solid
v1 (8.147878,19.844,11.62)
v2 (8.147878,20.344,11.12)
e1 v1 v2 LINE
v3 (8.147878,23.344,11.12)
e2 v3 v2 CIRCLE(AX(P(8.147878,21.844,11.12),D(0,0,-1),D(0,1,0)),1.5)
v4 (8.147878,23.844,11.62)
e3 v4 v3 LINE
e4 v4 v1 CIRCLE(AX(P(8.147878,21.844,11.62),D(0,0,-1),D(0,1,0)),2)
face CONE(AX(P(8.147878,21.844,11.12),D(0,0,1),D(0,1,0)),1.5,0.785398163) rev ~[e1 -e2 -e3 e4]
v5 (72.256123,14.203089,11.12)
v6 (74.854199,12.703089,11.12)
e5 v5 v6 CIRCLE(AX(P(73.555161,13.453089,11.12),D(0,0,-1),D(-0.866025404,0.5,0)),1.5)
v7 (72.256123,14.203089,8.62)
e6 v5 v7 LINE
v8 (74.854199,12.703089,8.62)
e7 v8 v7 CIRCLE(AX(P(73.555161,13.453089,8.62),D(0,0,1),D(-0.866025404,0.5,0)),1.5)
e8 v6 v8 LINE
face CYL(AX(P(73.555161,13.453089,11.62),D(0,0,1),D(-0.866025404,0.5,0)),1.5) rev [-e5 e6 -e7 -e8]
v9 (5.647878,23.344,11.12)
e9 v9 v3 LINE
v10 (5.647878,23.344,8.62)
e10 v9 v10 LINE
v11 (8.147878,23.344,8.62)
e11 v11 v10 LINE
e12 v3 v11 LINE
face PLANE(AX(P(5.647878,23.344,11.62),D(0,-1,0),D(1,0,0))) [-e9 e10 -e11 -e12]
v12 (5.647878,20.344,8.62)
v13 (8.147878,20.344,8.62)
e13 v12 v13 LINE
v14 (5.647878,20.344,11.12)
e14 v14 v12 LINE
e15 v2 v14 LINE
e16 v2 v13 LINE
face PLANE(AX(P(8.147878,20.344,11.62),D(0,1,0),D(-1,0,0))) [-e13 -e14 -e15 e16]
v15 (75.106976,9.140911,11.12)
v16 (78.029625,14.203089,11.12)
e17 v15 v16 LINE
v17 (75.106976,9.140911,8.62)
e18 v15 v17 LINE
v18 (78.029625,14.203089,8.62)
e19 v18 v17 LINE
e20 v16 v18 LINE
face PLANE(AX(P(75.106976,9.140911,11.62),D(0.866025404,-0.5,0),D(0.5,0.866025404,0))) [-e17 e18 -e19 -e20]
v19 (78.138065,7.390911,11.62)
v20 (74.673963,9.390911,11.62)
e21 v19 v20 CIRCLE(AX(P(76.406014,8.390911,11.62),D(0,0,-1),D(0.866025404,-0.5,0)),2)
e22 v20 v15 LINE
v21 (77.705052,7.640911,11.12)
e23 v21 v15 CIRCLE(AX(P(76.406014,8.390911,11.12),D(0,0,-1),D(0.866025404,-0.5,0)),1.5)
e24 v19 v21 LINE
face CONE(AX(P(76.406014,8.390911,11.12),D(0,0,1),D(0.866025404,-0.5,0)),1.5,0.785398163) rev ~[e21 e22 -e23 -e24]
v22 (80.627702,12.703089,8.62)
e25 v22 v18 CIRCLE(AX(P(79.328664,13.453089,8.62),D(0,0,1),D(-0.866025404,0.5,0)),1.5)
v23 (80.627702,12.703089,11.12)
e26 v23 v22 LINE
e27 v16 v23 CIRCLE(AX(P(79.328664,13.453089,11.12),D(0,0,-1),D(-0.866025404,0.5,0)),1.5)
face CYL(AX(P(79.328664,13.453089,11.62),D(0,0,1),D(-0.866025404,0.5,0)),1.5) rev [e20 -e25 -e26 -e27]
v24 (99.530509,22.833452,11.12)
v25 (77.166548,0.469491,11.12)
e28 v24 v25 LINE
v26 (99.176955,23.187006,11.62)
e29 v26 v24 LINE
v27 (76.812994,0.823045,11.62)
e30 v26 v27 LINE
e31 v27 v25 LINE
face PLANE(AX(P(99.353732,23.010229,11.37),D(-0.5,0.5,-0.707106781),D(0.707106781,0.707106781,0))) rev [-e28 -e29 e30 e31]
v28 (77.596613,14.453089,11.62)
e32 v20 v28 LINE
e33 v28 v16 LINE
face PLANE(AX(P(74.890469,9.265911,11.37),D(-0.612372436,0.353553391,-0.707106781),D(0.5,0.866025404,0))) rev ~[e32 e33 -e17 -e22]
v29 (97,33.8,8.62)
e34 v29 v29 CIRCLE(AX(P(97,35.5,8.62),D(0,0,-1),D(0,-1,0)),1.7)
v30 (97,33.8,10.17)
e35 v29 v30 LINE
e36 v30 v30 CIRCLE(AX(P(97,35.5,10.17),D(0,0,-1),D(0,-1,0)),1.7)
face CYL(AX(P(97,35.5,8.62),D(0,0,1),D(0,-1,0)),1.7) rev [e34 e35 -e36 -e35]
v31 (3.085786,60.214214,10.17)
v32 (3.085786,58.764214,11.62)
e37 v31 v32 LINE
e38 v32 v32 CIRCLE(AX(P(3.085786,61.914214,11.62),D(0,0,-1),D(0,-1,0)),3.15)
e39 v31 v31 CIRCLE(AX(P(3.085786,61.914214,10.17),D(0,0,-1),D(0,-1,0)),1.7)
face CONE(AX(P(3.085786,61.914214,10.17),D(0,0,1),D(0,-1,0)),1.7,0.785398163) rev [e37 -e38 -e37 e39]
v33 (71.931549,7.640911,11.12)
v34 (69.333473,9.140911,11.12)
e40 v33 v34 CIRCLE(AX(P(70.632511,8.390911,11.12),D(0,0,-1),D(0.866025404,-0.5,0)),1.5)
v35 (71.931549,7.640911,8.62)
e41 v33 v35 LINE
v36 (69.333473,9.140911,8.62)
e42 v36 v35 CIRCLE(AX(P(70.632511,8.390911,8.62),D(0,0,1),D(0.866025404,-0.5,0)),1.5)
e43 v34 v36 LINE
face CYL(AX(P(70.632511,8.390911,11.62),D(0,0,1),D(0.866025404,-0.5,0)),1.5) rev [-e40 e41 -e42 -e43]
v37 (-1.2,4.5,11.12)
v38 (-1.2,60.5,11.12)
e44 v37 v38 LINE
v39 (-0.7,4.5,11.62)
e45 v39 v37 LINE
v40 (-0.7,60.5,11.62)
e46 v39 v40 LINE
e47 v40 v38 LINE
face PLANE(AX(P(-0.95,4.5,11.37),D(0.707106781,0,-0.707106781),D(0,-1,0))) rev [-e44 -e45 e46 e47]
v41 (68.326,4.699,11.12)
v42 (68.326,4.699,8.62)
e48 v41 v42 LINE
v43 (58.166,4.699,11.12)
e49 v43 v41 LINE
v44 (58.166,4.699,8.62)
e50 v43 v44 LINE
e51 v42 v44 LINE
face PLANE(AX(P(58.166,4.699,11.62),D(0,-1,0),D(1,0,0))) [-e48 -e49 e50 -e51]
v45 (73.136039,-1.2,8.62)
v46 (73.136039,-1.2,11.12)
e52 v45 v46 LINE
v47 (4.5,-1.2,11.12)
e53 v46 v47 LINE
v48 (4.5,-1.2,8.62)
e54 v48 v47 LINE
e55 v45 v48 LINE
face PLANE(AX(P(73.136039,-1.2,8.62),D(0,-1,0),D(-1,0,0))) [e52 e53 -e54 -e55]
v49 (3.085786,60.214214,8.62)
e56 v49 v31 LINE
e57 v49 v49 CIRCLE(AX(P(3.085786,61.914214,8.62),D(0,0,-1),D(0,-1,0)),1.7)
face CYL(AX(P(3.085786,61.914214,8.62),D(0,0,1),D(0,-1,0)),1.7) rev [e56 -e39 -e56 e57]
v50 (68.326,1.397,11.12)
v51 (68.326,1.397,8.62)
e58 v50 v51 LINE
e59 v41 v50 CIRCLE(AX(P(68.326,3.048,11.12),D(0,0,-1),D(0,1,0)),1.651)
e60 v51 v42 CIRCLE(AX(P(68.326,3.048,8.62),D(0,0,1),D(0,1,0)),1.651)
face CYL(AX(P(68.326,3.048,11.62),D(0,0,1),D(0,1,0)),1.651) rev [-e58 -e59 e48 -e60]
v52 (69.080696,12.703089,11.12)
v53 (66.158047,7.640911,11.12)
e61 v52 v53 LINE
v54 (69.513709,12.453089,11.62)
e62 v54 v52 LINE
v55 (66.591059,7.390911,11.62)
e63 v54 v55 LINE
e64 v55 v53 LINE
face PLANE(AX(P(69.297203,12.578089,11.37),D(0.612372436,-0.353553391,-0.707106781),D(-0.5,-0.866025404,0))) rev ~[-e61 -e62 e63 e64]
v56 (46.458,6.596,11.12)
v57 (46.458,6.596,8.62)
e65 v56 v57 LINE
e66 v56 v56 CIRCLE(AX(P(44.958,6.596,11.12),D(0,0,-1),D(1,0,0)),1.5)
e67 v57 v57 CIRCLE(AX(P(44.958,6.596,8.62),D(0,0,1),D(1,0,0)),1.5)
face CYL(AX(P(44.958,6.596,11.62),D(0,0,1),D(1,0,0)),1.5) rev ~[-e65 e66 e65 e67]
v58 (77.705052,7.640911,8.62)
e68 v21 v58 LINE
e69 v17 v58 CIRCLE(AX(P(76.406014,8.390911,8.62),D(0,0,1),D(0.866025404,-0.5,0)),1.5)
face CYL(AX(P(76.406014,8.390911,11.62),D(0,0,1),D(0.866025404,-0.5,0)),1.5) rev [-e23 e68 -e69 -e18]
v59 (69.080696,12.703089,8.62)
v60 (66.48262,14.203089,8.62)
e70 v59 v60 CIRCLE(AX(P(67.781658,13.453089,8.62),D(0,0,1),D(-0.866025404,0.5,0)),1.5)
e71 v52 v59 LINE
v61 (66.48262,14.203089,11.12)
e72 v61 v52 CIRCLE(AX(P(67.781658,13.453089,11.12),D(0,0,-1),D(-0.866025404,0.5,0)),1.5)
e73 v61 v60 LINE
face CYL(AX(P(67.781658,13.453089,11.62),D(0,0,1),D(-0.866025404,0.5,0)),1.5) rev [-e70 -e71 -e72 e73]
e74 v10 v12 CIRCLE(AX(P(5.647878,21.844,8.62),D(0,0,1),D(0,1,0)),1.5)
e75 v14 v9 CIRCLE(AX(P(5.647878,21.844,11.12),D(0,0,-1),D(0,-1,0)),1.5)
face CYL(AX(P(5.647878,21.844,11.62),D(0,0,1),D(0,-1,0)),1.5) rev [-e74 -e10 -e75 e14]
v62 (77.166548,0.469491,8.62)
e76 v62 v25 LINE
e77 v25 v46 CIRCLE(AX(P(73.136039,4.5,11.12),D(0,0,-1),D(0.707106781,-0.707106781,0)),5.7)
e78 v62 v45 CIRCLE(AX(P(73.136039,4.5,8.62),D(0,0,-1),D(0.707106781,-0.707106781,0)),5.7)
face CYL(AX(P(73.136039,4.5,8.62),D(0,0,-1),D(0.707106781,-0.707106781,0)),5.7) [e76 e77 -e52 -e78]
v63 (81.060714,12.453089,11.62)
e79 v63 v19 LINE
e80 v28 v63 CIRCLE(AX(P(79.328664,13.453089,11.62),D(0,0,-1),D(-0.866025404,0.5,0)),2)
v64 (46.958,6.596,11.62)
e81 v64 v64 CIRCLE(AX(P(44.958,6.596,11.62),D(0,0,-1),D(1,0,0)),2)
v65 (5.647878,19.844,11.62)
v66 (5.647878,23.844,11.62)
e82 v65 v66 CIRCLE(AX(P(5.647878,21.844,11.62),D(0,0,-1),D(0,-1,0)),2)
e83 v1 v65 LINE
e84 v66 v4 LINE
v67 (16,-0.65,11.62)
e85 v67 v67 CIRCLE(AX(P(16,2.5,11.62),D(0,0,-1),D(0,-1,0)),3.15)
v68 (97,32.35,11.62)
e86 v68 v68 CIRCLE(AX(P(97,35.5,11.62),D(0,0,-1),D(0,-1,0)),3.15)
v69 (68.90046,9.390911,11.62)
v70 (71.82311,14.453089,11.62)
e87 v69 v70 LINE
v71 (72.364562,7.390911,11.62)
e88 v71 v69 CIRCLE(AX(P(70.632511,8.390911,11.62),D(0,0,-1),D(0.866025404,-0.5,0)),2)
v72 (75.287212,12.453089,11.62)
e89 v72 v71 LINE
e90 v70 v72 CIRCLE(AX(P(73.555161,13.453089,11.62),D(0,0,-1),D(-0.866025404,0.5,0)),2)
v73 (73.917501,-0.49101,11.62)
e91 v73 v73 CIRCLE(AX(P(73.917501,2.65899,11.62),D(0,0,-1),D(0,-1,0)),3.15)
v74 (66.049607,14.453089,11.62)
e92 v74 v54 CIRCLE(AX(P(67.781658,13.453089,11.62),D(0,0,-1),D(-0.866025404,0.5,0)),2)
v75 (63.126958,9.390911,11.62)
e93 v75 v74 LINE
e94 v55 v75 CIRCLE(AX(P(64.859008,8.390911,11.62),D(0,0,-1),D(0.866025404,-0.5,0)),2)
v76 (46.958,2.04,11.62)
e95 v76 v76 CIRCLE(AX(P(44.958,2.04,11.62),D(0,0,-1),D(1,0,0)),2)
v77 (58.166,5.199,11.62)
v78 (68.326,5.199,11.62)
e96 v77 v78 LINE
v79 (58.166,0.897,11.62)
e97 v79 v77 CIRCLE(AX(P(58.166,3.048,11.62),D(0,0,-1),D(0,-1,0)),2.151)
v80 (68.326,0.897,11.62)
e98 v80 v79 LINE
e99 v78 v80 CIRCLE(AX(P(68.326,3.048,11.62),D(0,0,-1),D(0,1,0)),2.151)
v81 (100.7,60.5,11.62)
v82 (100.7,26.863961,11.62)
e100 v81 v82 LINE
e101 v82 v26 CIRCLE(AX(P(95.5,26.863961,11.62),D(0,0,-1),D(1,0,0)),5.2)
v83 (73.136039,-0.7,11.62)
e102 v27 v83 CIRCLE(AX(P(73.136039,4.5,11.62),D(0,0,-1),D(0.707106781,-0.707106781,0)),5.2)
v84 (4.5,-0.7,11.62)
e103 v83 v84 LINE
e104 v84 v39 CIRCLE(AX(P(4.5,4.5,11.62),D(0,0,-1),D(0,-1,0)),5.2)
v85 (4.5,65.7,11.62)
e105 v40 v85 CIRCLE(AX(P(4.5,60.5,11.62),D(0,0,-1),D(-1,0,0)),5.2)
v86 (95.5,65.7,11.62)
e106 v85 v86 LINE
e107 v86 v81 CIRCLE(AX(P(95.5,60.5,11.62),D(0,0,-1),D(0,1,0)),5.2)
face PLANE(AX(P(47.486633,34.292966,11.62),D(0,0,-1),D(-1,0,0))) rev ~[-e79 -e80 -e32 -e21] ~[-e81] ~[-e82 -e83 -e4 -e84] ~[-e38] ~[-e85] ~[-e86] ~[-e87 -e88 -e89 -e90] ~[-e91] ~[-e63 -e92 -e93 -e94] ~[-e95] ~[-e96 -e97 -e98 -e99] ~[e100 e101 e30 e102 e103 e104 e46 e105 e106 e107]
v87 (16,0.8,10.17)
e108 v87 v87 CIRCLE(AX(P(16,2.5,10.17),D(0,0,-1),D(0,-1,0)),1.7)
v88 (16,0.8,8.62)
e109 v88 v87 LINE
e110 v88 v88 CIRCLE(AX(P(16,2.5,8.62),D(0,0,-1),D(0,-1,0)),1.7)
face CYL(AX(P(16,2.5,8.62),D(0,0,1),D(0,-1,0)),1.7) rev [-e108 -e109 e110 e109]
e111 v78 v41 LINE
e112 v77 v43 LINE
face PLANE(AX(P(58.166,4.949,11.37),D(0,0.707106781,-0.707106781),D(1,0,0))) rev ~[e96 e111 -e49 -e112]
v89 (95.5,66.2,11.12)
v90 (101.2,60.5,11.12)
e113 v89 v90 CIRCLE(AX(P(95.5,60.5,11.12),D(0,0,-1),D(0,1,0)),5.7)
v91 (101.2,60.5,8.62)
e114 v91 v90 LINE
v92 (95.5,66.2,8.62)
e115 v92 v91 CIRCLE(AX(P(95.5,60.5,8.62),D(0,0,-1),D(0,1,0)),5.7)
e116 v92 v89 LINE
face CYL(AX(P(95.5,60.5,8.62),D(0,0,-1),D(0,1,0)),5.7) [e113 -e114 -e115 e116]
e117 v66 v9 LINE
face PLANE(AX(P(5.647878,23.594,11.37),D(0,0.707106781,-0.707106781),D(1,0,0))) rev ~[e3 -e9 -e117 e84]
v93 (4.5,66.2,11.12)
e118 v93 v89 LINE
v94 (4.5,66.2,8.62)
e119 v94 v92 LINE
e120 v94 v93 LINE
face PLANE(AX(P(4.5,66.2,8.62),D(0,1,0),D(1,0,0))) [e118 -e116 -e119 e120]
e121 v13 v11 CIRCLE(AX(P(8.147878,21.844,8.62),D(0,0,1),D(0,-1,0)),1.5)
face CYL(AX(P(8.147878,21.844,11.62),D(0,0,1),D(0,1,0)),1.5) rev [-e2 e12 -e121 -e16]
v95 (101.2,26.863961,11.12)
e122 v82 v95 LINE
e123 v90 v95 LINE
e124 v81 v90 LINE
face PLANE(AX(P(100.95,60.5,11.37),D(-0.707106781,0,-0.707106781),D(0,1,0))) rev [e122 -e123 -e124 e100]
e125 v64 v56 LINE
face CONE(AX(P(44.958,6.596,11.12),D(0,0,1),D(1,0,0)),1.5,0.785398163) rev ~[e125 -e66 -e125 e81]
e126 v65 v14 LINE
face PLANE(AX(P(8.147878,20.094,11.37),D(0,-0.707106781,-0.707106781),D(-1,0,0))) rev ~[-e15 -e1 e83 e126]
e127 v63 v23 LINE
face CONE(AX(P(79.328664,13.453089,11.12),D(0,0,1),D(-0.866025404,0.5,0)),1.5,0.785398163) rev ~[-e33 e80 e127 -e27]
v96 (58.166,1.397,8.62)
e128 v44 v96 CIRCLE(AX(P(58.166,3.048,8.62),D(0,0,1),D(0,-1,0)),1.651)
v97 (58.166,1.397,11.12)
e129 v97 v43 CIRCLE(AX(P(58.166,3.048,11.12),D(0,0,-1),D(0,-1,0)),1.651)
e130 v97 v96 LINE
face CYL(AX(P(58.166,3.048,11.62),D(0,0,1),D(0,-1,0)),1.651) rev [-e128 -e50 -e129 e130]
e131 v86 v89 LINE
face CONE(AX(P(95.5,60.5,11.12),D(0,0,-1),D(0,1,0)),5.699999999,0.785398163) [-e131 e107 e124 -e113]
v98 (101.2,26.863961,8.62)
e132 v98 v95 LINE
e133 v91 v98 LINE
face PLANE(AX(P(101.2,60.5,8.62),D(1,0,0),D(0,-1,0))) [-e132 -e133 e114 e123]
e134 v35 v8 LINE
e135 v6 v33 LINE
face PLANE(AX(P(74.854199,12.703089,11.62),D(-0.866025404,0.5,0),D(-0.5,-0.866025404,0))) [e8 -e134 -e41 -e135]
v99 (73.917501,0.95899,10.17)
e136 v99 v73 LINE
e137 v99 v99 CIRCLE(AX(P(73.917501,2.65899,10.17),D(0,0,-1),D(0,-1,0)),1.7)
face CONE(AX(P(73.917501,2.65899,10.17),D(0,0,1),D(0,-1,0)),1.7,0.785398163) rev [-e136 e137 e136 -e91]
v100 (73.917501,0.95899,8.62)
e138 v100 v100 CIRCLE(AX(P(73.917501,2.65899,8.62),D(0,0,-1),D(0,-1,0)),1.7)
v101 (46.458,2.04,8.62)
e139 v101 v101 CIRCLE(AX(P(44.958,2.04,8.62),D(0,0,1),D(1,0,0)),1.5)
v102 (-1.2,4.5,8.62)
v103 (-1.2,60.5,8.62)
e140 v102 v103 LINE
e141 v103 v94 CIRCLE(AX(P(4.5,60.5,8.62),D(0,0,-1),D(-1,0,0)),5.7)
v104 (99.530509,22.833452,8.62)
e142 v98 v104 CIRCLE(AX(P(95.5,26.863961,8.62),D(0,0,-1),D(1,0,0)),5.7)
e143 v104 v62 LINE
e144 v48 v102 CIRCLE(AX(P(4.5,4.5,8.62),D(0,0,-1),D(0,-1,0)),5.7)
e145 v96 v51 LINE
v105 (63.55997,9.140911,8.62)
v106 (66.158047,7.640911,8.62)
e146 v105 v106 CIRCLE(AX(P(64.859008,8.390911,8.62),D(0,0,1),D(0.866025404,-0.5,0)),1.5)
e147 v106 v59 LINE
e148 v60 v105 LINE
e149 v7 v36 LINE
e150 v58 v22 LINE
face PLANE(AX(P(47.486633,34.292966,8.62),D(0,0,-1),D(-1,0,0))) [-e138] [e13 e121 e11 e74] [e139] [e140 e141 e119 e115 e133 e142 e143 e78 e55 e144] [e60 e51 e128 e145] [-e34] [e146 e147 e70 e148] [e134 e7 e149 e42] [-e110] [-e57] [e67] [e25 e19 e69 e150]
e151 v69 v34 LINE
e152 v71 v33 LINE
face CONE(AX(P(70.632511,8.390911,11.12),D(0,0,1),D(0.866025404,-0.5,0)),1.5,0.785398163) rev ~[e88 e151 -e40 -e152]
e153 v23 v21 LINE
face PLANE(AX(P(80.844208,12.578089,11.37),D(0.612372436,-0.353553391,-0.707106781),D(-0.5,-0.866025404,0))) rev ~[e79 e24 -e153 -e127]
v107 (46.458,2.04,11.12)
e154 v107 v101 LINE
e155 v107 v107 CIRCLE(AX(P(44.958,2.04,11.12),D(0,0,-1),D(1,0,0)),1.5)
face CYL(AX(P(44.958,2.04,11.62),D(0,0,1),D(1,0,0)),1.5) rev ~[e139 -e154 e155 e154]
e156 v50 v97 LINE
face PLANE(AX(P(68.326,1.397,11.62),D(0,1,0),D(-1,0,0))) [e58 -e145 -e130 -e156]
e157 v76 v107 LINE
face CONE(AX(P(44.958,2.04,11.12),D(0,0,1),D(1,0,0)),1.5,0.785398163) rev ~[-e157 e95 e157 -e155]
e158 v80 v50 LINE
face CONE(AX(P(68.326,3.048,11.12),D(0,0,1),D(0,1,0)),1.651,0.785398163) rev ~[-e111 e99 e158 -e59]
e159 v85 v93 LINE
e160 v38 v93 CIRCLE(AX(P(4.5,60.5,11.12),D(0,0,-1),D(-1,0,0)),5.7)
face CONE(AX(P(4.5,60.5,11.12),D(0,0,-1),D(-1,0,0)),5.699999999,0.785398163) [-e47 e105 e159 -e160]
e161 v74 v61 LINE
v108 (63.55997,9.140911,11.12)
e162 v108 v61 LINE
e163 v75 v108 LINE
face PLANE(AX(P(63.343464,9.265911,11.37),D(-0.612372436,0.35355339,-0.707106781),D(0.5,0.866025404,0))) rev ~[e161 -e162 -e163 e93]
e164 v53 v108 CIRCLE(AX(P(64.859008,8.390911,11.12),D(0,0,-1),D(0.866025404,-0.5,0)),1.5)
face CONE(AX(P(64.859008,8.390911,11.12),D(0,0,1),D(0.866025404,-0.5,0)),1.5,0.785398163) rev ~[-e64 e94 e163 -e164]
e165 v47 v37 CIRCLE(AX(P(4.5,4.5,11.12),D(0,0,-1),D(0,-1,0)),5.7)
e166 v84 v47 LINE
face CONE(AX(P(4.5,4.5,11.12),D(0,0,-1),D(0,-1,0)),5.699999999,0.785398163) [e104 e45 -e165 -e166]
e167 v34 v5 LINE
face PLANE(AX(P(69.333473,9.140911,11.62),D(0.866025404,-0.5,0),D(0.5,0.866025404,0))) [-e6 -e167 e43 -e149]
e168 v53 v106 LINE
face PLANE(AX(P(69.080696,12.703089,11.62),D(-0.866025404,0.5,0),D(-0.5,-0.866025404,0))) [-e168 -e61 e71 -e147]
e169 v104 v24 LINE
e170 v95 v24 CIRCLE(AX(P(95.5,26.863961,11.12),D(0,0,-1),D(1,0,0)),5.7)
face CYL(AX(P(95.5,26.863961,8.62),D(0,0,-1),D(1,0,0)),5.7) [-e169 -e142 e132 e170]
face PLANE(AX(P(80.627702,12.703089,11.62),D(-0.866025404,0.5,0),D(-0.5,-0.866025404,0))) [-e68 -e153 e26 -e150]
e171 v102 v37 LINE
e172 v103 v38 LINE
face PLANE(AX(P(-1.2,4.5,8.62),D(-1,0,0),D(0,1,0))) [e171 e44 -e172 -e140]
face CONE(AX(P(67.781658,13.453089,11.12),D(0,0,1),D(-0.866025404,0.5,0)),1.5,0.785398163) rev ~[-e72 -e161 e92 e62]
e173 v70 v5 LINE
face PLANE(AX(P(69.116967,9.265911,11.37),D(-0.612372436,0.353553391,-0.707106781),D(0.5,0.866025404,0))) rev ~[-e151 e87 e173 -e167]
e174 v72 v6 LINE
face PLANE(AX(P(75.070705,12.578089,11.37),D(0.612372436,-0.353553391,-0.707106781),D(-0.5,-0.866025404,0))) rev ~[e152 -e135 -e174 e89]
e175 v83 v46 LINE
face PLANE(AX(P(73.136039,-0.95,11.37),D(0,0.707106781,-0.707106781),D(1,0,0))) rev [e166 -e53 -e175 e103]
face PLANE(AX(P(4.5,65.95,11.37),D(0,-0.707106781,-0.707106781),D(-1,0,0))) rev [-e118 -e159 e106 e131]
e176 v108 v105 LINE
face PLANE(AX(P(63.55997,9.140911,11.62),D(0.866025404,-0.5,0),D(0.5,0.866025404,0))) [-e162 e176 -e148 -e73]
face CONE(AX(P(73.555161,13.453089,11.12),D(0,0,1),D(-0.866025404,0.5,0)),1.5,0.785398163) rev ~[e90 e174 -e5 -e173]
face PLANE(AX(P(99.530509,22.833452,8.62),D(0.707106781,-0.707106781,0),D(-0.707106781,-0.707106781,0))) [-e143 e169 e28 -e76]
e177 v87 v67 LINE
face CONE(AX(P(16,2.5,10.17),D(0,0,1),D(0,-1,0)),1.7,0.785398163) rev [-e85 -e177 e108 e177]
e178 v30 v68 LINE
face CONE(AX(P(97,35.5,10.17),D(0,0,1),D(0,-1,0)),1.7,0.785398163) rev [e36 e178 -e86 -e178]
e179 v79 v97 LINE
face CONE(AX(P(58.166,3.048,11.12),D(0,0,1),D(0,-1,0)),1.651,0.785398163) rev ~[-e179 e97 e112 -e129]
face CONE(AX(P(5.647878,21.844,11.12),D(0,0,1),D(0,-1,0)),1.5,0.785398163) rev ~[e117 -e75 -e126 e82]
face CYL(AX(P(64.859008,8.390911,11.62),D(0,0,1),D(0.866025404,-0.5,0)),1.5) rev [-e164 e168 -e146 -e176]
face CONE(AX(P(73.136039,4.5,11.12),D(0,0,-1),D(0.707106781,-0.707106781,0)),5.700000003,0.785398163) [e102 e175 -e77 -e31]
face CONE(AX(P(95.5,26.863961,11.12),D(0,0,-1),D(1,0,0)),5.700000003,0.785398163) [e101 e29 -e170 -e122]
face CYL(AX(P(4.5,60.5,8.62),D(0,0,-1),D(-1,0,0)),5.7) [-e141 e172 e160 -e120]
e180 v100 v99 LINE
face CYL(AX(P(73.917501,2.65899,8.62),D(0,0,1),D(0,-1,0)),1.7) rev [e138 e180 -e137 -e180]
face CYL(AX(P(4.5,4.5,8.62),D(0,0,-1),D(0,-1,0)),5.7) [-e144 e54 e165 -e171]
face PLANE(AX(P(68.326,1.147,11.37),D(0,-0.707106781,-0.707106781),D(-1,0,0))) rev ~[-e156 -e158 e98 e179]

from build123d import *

# Parameters (mm, degrees)
BOSS_EXTRUDE1_DEPTH                            = 3
CSK_FOR_M3_FLAT_HEAD_MACHINE_SCREW1_AT_2_COUNT = 2
CSK_FOR_M3_FLAT_HEAD_MACHINE_SCREW1_AT_2_PITCH = 60.801526997
CSK_FOR_M3_FLAT_HEAD_MACHINE_SCREW1_AT_3_COUNT = 2
CSK_FOR_M3_FLAT_HEAD_MACHINE_SCREW1_AT_3_PITCH = 92.34886737
CSK_FOR_M3_FLAT_HEAD_MACHINE_SCREW1_AT_4_COUNT = 2
CSK_FOR_M3_FLAT_HEAD_MACHINE_SCREW1_AT_4_PITCH = 97.558137473
CUT_EXTRUDE1_DEPTH                             = 121.966441627
SKETCH8_R                                      = 1
CUT_EXTRUDE2_DEPTH                             = 10
SKETCH10_R                                     = 1
CUT_EXTRUDE4_DEPTH                             = 10
SKETCH12_R                                     = 1.5
CUT_EXTRUDE5_DEPTH                             = 10
CHAMFER2_SIZE                                  = 0.5


with BuildPart() as part:
    # Sketch2 → Boss-Extrude1 (new body)
    with BuildSketch(Plane.XY.offset(8.62)):
        with BuildLine():
            Line((4.5, 66.2), (95.5, 66.2))
            ThreePointArc((95.5, 66.2), (99.530508653, 64.530508653), (101.2, 60.5))
            Line((101.2, 60.5), (101.2, 26.863961031))
            ThreePointArc((101.2, 26.863961031), (100.766113335, 24.682665466), (99.530508653, 22.833452378))
            Line((99.530508653, 22.833452378), (77.166547622, 0.469491347))
            ThreePointArc((77.166547622, 0.469491347), (75.317334534, -0.766113335), (73.136038969, -1.2))
            Line((73.136038969, -1.2), (4.5, -1.2))
            ThreePointArc((4.5, -1.2), (0.469491347, 0.469491347), (-1.2, 4.5))
            Line((-1.2, 4.5), (-1.2, 60.5))
            ThreePointArc((-1.2, 60.5), (0.469491347, 64.530508653), (4.5, 66.2))
        make_face()
    extrude(amount=BOSS_EXTRUDE1_DEPTH)

    # Sketch5 → CSK for M3 Flat Head Machine Screw1 (revolve, cut)
    with BuildSketch(Plane(origin=(3.085786438, 61.914213562, 11.62), x_dir=(0, -1, 0), z_dir=(1, 0, 0))):
        Polygon((0, 0), (0, 3), (1.7, 3), (1.7, 1.45), (3.15, 0), align=None)
    csk_for_m3_flat_head_machine_screw1 = revolve(axis=Axis((3.085786438, 61.914213562, 17.97), (0, 0, -1)), mode=Mode.SUBTRACT)

    # CSK for M3 Flat Head Machine Screw1 at 2: CSK for M3 Flat Head Machine Screw1 ×2
    with Locations(*[Vector(0.21239949389766488, -0.9771829178777205, 0) * (i * CSK_FOR_M3_FLAT_HEAD_MACHINE_SCREW1_AT_2_PITCH) for i in range(1, CSK_FOR_M3_FLAT_HEAD_MACHINE_SCREW1_AT_2_COUNT)]):
        add(csk_for_m3_flat_head_machine_screw1, mode=Mode.SUBTRACT)

    # CSK for M3 Flat Head Machine Screw1 at 3: CSK for M3 Flat Head Machine Screw1 ×2
    with Locations(*[Vector(0.7670014457738275, -0.6416453710429606, 0) * (i * CSK_FOR_M3_FLAT_HEAD_MACHINE_SCREW1_AT_3_PITCH) for i in range(1, CSK_FOR_M3_FLAT_HEAD_MACHINE_SCREW1_AT_3_COUNT)]):
        add(csk_for_m3_flat_head_machine_screw1, mode=Mode.SUBTRACT)

    # CSK for M3 Flat Head Machine Screw1 at 4: CSK for M3 Flat Head Machine Screw1 ×2
    with Locations(*[Vector(0.9626486933350611, -0.27075356548030866, 0) * (i * CSK_FOR_M3_FLAT_HEAD_MACHINE_SCREW1_AT_4_PITCH) for i in range(1, CSK_FOR_M3_FLAT_HEAD_MACHINE_SCREW1_AT_4_COUNT)]):
        add(csk_for_m3_flat_head_machine_screw1, mode=Mode.SUBTRACT)

    # Sketch6 → Cut-Extrude1 (cut, through all)
    with BuildSketch(Plane.XY.offset(11.62)):
        with BuildLine():
            Line((68.326, 1.397), (58.166, 1.397))
            ThreePointArc((58.166, 1.397), (56.515, 3.048), (58.166, 4.699))
            Line((58.166, 4.699), (68.326, 4.699))
            ThreePointArc((68.326, 4.699), (69.977, 3.048), (68.326, 1.397))
        make_face()
    extrude(amount=-CUT_EXTRUDE1_DEPTH, mode=Mode.SUBTRACT)

    # Sketch8 → Cut-Extrude2 (cut)
    with BuildSketch(Plane.XY.offset(11.62)):
        with Locations((44.958, 2.539999994)):
            Circle(SKETCH8_R)
        with Locations((44.958000001, 6.095999994)):
            Circle(SKETCH8_R)
    extrude(amount=-CUT_EXTRUDE2_DEPTH, mode=Mode.SUBTRACT)

    # Sketch10 → Cut-Extrude4 (cut)
    with BuildSketch(Plane.XY.offset(11.62)):
        with Locations((5.147878003, 21.843999999)):
            Circle(SKETCH10_R)
        with Locations((8.647878003, 21.843999999)):
            Circle(SKETCH10_R)
    extrude(amount=-CUT_EXTRUDE4_DEPTH, mode=Mode.SUBTRACT)

    # Sketch12 → Cut-Extrude5 (cut)
    with BuildSketch(Plane.XY.offset(11.62)):
        with Locations((44.958000001, 6.595999994)):
            Circle(SKETCH12_R)
        with Locations((44.958000001, 2.039999994)):
            Circle(SKETCH12_R)
        with BuildLine():
            Line((5.647878003, 23.343999999), (8.147878003, 23.343999999))
            ThreePointArc((8.147878003, 23.343999999), (9.647878003, 21.843999999), (8.147878003, 20.343999999))
            Line((8.147878003, 20.343999999), (5.647878003, 20.343999999))
            ThreePointArc((5.647878003, 20.343999999), (4.147878003, 21.843999999), (5.647878003, 23.343999999))
        make_face()
        with BuildLine():
            Line((69.33347303, 9.140911087), (72.256122761, 14.203088914))
            ThreePointArc((72.256122761, 14.203088914), (74.305160867, 14.752127019), (74.854198973, 12.703088914))
            Line((74.854198973, 12.703088914), (71.931549242, 7.640911087))
            ThreePointArc((71.931549242, 7.640911087), (69.882511136, 7.091872982), (69.33347303, 9.140911087))
        make_face()
        with BuildLine():
            Line((63.559970339, 9.140911087), (66.482620069, 14.203088914))
            ThreePointArc((66.482620069, 14.203088914), (68.531658175, 14.752127019), (69.080696281, 12.703088914))
            Line((69.080696281, 12.703088914), (66.15804655, 7.640911087))
            ThreePointArc((66.15804655, 7.640911087), (64.109008444, 7.091872982), (63.559970339, 9.140911087))
        make_face()
        with BuildLine():
            Line((75.106975722, 9.140911087), (78.029625453, 14.203088914))
            ThreePointArc((78.029625453, 14.203088914), (80.078663559, 14.752127019), (80.627701665, 12.703088914))
            Line((80.627701665, 12.703088914), (77.705051934, 7.640911087))
            ThreePointArc((77.705051934, 7.640911087), (75.656013828, 7.091872982), (75.106975722, 9.140911087))
        make_face()
    extrude(amount=-CUT_EXTRUDE5_DEPTH, mode=Mode.SUBTRACT)

    # Chamfer2
    chamfer2_edges = [part.edges().sort_by_distance(p)[0] for p in [
        (75.317334534, -0.766113335, 11.62),
        (4.147878003, 21.843999999, 11.62),
        (6.897878003, 20.343999999, 11.62),
        (9.647878003, 21.843999999, 11.62),
        (6.897878003, 23.343999999, 11.62),
        (43.458000001, 6.595999994, 11.62),
        (43.458000001, 2.039999994, 11.62),
        (88.348528137, 11.651471863, 11.62),
        (69.882511136, 7.091872982, 11.62),
        (73.392874107, 10.172000001, 11.62),
        (74.305160867, 14.752127019, 11.62),
        (70.794797896, 11.672000001, 11.62),
        (64.109008444, 7.091872982, 11.62),
        (67.619371415, 10.172000001, 11.62),
        (68.531658175, 14.752127019, 11.62),
        (65.021295204, 11.672000001, 11.62),
        (100.766113335, 24.682665466, 11.62),
        (75.656013828, 7.091872982, 11.62),
        (79.166376799, 10.172000001, 11.62),
        (80.078663559, 14.752127019, 11.62),
        (76.568300588, 11.672000001, 11.62),
        (101.2, 43.681980515, 11.62),
        (99.530508653, 64.530508653, 11.62),
        (50, 66.2, 11.62),
        (0.469491347, 64.530508653, 11.62),
        (-1.2, 32.5, 11.62),
        (0.469491347, 0.469491347, 11.62),
        (69.977, 3.048, 11.62),
        (63.246, 4.699, 11.62),
        (56.515, 3.048, 11.62),
        (63.246, 1.397, 11.62),
        (38.818019485, -1.2, 11.62),
    ]]
    chamfer(chamfer2_edges, length=CHAMFER2_SIZE)


solid = part.part
